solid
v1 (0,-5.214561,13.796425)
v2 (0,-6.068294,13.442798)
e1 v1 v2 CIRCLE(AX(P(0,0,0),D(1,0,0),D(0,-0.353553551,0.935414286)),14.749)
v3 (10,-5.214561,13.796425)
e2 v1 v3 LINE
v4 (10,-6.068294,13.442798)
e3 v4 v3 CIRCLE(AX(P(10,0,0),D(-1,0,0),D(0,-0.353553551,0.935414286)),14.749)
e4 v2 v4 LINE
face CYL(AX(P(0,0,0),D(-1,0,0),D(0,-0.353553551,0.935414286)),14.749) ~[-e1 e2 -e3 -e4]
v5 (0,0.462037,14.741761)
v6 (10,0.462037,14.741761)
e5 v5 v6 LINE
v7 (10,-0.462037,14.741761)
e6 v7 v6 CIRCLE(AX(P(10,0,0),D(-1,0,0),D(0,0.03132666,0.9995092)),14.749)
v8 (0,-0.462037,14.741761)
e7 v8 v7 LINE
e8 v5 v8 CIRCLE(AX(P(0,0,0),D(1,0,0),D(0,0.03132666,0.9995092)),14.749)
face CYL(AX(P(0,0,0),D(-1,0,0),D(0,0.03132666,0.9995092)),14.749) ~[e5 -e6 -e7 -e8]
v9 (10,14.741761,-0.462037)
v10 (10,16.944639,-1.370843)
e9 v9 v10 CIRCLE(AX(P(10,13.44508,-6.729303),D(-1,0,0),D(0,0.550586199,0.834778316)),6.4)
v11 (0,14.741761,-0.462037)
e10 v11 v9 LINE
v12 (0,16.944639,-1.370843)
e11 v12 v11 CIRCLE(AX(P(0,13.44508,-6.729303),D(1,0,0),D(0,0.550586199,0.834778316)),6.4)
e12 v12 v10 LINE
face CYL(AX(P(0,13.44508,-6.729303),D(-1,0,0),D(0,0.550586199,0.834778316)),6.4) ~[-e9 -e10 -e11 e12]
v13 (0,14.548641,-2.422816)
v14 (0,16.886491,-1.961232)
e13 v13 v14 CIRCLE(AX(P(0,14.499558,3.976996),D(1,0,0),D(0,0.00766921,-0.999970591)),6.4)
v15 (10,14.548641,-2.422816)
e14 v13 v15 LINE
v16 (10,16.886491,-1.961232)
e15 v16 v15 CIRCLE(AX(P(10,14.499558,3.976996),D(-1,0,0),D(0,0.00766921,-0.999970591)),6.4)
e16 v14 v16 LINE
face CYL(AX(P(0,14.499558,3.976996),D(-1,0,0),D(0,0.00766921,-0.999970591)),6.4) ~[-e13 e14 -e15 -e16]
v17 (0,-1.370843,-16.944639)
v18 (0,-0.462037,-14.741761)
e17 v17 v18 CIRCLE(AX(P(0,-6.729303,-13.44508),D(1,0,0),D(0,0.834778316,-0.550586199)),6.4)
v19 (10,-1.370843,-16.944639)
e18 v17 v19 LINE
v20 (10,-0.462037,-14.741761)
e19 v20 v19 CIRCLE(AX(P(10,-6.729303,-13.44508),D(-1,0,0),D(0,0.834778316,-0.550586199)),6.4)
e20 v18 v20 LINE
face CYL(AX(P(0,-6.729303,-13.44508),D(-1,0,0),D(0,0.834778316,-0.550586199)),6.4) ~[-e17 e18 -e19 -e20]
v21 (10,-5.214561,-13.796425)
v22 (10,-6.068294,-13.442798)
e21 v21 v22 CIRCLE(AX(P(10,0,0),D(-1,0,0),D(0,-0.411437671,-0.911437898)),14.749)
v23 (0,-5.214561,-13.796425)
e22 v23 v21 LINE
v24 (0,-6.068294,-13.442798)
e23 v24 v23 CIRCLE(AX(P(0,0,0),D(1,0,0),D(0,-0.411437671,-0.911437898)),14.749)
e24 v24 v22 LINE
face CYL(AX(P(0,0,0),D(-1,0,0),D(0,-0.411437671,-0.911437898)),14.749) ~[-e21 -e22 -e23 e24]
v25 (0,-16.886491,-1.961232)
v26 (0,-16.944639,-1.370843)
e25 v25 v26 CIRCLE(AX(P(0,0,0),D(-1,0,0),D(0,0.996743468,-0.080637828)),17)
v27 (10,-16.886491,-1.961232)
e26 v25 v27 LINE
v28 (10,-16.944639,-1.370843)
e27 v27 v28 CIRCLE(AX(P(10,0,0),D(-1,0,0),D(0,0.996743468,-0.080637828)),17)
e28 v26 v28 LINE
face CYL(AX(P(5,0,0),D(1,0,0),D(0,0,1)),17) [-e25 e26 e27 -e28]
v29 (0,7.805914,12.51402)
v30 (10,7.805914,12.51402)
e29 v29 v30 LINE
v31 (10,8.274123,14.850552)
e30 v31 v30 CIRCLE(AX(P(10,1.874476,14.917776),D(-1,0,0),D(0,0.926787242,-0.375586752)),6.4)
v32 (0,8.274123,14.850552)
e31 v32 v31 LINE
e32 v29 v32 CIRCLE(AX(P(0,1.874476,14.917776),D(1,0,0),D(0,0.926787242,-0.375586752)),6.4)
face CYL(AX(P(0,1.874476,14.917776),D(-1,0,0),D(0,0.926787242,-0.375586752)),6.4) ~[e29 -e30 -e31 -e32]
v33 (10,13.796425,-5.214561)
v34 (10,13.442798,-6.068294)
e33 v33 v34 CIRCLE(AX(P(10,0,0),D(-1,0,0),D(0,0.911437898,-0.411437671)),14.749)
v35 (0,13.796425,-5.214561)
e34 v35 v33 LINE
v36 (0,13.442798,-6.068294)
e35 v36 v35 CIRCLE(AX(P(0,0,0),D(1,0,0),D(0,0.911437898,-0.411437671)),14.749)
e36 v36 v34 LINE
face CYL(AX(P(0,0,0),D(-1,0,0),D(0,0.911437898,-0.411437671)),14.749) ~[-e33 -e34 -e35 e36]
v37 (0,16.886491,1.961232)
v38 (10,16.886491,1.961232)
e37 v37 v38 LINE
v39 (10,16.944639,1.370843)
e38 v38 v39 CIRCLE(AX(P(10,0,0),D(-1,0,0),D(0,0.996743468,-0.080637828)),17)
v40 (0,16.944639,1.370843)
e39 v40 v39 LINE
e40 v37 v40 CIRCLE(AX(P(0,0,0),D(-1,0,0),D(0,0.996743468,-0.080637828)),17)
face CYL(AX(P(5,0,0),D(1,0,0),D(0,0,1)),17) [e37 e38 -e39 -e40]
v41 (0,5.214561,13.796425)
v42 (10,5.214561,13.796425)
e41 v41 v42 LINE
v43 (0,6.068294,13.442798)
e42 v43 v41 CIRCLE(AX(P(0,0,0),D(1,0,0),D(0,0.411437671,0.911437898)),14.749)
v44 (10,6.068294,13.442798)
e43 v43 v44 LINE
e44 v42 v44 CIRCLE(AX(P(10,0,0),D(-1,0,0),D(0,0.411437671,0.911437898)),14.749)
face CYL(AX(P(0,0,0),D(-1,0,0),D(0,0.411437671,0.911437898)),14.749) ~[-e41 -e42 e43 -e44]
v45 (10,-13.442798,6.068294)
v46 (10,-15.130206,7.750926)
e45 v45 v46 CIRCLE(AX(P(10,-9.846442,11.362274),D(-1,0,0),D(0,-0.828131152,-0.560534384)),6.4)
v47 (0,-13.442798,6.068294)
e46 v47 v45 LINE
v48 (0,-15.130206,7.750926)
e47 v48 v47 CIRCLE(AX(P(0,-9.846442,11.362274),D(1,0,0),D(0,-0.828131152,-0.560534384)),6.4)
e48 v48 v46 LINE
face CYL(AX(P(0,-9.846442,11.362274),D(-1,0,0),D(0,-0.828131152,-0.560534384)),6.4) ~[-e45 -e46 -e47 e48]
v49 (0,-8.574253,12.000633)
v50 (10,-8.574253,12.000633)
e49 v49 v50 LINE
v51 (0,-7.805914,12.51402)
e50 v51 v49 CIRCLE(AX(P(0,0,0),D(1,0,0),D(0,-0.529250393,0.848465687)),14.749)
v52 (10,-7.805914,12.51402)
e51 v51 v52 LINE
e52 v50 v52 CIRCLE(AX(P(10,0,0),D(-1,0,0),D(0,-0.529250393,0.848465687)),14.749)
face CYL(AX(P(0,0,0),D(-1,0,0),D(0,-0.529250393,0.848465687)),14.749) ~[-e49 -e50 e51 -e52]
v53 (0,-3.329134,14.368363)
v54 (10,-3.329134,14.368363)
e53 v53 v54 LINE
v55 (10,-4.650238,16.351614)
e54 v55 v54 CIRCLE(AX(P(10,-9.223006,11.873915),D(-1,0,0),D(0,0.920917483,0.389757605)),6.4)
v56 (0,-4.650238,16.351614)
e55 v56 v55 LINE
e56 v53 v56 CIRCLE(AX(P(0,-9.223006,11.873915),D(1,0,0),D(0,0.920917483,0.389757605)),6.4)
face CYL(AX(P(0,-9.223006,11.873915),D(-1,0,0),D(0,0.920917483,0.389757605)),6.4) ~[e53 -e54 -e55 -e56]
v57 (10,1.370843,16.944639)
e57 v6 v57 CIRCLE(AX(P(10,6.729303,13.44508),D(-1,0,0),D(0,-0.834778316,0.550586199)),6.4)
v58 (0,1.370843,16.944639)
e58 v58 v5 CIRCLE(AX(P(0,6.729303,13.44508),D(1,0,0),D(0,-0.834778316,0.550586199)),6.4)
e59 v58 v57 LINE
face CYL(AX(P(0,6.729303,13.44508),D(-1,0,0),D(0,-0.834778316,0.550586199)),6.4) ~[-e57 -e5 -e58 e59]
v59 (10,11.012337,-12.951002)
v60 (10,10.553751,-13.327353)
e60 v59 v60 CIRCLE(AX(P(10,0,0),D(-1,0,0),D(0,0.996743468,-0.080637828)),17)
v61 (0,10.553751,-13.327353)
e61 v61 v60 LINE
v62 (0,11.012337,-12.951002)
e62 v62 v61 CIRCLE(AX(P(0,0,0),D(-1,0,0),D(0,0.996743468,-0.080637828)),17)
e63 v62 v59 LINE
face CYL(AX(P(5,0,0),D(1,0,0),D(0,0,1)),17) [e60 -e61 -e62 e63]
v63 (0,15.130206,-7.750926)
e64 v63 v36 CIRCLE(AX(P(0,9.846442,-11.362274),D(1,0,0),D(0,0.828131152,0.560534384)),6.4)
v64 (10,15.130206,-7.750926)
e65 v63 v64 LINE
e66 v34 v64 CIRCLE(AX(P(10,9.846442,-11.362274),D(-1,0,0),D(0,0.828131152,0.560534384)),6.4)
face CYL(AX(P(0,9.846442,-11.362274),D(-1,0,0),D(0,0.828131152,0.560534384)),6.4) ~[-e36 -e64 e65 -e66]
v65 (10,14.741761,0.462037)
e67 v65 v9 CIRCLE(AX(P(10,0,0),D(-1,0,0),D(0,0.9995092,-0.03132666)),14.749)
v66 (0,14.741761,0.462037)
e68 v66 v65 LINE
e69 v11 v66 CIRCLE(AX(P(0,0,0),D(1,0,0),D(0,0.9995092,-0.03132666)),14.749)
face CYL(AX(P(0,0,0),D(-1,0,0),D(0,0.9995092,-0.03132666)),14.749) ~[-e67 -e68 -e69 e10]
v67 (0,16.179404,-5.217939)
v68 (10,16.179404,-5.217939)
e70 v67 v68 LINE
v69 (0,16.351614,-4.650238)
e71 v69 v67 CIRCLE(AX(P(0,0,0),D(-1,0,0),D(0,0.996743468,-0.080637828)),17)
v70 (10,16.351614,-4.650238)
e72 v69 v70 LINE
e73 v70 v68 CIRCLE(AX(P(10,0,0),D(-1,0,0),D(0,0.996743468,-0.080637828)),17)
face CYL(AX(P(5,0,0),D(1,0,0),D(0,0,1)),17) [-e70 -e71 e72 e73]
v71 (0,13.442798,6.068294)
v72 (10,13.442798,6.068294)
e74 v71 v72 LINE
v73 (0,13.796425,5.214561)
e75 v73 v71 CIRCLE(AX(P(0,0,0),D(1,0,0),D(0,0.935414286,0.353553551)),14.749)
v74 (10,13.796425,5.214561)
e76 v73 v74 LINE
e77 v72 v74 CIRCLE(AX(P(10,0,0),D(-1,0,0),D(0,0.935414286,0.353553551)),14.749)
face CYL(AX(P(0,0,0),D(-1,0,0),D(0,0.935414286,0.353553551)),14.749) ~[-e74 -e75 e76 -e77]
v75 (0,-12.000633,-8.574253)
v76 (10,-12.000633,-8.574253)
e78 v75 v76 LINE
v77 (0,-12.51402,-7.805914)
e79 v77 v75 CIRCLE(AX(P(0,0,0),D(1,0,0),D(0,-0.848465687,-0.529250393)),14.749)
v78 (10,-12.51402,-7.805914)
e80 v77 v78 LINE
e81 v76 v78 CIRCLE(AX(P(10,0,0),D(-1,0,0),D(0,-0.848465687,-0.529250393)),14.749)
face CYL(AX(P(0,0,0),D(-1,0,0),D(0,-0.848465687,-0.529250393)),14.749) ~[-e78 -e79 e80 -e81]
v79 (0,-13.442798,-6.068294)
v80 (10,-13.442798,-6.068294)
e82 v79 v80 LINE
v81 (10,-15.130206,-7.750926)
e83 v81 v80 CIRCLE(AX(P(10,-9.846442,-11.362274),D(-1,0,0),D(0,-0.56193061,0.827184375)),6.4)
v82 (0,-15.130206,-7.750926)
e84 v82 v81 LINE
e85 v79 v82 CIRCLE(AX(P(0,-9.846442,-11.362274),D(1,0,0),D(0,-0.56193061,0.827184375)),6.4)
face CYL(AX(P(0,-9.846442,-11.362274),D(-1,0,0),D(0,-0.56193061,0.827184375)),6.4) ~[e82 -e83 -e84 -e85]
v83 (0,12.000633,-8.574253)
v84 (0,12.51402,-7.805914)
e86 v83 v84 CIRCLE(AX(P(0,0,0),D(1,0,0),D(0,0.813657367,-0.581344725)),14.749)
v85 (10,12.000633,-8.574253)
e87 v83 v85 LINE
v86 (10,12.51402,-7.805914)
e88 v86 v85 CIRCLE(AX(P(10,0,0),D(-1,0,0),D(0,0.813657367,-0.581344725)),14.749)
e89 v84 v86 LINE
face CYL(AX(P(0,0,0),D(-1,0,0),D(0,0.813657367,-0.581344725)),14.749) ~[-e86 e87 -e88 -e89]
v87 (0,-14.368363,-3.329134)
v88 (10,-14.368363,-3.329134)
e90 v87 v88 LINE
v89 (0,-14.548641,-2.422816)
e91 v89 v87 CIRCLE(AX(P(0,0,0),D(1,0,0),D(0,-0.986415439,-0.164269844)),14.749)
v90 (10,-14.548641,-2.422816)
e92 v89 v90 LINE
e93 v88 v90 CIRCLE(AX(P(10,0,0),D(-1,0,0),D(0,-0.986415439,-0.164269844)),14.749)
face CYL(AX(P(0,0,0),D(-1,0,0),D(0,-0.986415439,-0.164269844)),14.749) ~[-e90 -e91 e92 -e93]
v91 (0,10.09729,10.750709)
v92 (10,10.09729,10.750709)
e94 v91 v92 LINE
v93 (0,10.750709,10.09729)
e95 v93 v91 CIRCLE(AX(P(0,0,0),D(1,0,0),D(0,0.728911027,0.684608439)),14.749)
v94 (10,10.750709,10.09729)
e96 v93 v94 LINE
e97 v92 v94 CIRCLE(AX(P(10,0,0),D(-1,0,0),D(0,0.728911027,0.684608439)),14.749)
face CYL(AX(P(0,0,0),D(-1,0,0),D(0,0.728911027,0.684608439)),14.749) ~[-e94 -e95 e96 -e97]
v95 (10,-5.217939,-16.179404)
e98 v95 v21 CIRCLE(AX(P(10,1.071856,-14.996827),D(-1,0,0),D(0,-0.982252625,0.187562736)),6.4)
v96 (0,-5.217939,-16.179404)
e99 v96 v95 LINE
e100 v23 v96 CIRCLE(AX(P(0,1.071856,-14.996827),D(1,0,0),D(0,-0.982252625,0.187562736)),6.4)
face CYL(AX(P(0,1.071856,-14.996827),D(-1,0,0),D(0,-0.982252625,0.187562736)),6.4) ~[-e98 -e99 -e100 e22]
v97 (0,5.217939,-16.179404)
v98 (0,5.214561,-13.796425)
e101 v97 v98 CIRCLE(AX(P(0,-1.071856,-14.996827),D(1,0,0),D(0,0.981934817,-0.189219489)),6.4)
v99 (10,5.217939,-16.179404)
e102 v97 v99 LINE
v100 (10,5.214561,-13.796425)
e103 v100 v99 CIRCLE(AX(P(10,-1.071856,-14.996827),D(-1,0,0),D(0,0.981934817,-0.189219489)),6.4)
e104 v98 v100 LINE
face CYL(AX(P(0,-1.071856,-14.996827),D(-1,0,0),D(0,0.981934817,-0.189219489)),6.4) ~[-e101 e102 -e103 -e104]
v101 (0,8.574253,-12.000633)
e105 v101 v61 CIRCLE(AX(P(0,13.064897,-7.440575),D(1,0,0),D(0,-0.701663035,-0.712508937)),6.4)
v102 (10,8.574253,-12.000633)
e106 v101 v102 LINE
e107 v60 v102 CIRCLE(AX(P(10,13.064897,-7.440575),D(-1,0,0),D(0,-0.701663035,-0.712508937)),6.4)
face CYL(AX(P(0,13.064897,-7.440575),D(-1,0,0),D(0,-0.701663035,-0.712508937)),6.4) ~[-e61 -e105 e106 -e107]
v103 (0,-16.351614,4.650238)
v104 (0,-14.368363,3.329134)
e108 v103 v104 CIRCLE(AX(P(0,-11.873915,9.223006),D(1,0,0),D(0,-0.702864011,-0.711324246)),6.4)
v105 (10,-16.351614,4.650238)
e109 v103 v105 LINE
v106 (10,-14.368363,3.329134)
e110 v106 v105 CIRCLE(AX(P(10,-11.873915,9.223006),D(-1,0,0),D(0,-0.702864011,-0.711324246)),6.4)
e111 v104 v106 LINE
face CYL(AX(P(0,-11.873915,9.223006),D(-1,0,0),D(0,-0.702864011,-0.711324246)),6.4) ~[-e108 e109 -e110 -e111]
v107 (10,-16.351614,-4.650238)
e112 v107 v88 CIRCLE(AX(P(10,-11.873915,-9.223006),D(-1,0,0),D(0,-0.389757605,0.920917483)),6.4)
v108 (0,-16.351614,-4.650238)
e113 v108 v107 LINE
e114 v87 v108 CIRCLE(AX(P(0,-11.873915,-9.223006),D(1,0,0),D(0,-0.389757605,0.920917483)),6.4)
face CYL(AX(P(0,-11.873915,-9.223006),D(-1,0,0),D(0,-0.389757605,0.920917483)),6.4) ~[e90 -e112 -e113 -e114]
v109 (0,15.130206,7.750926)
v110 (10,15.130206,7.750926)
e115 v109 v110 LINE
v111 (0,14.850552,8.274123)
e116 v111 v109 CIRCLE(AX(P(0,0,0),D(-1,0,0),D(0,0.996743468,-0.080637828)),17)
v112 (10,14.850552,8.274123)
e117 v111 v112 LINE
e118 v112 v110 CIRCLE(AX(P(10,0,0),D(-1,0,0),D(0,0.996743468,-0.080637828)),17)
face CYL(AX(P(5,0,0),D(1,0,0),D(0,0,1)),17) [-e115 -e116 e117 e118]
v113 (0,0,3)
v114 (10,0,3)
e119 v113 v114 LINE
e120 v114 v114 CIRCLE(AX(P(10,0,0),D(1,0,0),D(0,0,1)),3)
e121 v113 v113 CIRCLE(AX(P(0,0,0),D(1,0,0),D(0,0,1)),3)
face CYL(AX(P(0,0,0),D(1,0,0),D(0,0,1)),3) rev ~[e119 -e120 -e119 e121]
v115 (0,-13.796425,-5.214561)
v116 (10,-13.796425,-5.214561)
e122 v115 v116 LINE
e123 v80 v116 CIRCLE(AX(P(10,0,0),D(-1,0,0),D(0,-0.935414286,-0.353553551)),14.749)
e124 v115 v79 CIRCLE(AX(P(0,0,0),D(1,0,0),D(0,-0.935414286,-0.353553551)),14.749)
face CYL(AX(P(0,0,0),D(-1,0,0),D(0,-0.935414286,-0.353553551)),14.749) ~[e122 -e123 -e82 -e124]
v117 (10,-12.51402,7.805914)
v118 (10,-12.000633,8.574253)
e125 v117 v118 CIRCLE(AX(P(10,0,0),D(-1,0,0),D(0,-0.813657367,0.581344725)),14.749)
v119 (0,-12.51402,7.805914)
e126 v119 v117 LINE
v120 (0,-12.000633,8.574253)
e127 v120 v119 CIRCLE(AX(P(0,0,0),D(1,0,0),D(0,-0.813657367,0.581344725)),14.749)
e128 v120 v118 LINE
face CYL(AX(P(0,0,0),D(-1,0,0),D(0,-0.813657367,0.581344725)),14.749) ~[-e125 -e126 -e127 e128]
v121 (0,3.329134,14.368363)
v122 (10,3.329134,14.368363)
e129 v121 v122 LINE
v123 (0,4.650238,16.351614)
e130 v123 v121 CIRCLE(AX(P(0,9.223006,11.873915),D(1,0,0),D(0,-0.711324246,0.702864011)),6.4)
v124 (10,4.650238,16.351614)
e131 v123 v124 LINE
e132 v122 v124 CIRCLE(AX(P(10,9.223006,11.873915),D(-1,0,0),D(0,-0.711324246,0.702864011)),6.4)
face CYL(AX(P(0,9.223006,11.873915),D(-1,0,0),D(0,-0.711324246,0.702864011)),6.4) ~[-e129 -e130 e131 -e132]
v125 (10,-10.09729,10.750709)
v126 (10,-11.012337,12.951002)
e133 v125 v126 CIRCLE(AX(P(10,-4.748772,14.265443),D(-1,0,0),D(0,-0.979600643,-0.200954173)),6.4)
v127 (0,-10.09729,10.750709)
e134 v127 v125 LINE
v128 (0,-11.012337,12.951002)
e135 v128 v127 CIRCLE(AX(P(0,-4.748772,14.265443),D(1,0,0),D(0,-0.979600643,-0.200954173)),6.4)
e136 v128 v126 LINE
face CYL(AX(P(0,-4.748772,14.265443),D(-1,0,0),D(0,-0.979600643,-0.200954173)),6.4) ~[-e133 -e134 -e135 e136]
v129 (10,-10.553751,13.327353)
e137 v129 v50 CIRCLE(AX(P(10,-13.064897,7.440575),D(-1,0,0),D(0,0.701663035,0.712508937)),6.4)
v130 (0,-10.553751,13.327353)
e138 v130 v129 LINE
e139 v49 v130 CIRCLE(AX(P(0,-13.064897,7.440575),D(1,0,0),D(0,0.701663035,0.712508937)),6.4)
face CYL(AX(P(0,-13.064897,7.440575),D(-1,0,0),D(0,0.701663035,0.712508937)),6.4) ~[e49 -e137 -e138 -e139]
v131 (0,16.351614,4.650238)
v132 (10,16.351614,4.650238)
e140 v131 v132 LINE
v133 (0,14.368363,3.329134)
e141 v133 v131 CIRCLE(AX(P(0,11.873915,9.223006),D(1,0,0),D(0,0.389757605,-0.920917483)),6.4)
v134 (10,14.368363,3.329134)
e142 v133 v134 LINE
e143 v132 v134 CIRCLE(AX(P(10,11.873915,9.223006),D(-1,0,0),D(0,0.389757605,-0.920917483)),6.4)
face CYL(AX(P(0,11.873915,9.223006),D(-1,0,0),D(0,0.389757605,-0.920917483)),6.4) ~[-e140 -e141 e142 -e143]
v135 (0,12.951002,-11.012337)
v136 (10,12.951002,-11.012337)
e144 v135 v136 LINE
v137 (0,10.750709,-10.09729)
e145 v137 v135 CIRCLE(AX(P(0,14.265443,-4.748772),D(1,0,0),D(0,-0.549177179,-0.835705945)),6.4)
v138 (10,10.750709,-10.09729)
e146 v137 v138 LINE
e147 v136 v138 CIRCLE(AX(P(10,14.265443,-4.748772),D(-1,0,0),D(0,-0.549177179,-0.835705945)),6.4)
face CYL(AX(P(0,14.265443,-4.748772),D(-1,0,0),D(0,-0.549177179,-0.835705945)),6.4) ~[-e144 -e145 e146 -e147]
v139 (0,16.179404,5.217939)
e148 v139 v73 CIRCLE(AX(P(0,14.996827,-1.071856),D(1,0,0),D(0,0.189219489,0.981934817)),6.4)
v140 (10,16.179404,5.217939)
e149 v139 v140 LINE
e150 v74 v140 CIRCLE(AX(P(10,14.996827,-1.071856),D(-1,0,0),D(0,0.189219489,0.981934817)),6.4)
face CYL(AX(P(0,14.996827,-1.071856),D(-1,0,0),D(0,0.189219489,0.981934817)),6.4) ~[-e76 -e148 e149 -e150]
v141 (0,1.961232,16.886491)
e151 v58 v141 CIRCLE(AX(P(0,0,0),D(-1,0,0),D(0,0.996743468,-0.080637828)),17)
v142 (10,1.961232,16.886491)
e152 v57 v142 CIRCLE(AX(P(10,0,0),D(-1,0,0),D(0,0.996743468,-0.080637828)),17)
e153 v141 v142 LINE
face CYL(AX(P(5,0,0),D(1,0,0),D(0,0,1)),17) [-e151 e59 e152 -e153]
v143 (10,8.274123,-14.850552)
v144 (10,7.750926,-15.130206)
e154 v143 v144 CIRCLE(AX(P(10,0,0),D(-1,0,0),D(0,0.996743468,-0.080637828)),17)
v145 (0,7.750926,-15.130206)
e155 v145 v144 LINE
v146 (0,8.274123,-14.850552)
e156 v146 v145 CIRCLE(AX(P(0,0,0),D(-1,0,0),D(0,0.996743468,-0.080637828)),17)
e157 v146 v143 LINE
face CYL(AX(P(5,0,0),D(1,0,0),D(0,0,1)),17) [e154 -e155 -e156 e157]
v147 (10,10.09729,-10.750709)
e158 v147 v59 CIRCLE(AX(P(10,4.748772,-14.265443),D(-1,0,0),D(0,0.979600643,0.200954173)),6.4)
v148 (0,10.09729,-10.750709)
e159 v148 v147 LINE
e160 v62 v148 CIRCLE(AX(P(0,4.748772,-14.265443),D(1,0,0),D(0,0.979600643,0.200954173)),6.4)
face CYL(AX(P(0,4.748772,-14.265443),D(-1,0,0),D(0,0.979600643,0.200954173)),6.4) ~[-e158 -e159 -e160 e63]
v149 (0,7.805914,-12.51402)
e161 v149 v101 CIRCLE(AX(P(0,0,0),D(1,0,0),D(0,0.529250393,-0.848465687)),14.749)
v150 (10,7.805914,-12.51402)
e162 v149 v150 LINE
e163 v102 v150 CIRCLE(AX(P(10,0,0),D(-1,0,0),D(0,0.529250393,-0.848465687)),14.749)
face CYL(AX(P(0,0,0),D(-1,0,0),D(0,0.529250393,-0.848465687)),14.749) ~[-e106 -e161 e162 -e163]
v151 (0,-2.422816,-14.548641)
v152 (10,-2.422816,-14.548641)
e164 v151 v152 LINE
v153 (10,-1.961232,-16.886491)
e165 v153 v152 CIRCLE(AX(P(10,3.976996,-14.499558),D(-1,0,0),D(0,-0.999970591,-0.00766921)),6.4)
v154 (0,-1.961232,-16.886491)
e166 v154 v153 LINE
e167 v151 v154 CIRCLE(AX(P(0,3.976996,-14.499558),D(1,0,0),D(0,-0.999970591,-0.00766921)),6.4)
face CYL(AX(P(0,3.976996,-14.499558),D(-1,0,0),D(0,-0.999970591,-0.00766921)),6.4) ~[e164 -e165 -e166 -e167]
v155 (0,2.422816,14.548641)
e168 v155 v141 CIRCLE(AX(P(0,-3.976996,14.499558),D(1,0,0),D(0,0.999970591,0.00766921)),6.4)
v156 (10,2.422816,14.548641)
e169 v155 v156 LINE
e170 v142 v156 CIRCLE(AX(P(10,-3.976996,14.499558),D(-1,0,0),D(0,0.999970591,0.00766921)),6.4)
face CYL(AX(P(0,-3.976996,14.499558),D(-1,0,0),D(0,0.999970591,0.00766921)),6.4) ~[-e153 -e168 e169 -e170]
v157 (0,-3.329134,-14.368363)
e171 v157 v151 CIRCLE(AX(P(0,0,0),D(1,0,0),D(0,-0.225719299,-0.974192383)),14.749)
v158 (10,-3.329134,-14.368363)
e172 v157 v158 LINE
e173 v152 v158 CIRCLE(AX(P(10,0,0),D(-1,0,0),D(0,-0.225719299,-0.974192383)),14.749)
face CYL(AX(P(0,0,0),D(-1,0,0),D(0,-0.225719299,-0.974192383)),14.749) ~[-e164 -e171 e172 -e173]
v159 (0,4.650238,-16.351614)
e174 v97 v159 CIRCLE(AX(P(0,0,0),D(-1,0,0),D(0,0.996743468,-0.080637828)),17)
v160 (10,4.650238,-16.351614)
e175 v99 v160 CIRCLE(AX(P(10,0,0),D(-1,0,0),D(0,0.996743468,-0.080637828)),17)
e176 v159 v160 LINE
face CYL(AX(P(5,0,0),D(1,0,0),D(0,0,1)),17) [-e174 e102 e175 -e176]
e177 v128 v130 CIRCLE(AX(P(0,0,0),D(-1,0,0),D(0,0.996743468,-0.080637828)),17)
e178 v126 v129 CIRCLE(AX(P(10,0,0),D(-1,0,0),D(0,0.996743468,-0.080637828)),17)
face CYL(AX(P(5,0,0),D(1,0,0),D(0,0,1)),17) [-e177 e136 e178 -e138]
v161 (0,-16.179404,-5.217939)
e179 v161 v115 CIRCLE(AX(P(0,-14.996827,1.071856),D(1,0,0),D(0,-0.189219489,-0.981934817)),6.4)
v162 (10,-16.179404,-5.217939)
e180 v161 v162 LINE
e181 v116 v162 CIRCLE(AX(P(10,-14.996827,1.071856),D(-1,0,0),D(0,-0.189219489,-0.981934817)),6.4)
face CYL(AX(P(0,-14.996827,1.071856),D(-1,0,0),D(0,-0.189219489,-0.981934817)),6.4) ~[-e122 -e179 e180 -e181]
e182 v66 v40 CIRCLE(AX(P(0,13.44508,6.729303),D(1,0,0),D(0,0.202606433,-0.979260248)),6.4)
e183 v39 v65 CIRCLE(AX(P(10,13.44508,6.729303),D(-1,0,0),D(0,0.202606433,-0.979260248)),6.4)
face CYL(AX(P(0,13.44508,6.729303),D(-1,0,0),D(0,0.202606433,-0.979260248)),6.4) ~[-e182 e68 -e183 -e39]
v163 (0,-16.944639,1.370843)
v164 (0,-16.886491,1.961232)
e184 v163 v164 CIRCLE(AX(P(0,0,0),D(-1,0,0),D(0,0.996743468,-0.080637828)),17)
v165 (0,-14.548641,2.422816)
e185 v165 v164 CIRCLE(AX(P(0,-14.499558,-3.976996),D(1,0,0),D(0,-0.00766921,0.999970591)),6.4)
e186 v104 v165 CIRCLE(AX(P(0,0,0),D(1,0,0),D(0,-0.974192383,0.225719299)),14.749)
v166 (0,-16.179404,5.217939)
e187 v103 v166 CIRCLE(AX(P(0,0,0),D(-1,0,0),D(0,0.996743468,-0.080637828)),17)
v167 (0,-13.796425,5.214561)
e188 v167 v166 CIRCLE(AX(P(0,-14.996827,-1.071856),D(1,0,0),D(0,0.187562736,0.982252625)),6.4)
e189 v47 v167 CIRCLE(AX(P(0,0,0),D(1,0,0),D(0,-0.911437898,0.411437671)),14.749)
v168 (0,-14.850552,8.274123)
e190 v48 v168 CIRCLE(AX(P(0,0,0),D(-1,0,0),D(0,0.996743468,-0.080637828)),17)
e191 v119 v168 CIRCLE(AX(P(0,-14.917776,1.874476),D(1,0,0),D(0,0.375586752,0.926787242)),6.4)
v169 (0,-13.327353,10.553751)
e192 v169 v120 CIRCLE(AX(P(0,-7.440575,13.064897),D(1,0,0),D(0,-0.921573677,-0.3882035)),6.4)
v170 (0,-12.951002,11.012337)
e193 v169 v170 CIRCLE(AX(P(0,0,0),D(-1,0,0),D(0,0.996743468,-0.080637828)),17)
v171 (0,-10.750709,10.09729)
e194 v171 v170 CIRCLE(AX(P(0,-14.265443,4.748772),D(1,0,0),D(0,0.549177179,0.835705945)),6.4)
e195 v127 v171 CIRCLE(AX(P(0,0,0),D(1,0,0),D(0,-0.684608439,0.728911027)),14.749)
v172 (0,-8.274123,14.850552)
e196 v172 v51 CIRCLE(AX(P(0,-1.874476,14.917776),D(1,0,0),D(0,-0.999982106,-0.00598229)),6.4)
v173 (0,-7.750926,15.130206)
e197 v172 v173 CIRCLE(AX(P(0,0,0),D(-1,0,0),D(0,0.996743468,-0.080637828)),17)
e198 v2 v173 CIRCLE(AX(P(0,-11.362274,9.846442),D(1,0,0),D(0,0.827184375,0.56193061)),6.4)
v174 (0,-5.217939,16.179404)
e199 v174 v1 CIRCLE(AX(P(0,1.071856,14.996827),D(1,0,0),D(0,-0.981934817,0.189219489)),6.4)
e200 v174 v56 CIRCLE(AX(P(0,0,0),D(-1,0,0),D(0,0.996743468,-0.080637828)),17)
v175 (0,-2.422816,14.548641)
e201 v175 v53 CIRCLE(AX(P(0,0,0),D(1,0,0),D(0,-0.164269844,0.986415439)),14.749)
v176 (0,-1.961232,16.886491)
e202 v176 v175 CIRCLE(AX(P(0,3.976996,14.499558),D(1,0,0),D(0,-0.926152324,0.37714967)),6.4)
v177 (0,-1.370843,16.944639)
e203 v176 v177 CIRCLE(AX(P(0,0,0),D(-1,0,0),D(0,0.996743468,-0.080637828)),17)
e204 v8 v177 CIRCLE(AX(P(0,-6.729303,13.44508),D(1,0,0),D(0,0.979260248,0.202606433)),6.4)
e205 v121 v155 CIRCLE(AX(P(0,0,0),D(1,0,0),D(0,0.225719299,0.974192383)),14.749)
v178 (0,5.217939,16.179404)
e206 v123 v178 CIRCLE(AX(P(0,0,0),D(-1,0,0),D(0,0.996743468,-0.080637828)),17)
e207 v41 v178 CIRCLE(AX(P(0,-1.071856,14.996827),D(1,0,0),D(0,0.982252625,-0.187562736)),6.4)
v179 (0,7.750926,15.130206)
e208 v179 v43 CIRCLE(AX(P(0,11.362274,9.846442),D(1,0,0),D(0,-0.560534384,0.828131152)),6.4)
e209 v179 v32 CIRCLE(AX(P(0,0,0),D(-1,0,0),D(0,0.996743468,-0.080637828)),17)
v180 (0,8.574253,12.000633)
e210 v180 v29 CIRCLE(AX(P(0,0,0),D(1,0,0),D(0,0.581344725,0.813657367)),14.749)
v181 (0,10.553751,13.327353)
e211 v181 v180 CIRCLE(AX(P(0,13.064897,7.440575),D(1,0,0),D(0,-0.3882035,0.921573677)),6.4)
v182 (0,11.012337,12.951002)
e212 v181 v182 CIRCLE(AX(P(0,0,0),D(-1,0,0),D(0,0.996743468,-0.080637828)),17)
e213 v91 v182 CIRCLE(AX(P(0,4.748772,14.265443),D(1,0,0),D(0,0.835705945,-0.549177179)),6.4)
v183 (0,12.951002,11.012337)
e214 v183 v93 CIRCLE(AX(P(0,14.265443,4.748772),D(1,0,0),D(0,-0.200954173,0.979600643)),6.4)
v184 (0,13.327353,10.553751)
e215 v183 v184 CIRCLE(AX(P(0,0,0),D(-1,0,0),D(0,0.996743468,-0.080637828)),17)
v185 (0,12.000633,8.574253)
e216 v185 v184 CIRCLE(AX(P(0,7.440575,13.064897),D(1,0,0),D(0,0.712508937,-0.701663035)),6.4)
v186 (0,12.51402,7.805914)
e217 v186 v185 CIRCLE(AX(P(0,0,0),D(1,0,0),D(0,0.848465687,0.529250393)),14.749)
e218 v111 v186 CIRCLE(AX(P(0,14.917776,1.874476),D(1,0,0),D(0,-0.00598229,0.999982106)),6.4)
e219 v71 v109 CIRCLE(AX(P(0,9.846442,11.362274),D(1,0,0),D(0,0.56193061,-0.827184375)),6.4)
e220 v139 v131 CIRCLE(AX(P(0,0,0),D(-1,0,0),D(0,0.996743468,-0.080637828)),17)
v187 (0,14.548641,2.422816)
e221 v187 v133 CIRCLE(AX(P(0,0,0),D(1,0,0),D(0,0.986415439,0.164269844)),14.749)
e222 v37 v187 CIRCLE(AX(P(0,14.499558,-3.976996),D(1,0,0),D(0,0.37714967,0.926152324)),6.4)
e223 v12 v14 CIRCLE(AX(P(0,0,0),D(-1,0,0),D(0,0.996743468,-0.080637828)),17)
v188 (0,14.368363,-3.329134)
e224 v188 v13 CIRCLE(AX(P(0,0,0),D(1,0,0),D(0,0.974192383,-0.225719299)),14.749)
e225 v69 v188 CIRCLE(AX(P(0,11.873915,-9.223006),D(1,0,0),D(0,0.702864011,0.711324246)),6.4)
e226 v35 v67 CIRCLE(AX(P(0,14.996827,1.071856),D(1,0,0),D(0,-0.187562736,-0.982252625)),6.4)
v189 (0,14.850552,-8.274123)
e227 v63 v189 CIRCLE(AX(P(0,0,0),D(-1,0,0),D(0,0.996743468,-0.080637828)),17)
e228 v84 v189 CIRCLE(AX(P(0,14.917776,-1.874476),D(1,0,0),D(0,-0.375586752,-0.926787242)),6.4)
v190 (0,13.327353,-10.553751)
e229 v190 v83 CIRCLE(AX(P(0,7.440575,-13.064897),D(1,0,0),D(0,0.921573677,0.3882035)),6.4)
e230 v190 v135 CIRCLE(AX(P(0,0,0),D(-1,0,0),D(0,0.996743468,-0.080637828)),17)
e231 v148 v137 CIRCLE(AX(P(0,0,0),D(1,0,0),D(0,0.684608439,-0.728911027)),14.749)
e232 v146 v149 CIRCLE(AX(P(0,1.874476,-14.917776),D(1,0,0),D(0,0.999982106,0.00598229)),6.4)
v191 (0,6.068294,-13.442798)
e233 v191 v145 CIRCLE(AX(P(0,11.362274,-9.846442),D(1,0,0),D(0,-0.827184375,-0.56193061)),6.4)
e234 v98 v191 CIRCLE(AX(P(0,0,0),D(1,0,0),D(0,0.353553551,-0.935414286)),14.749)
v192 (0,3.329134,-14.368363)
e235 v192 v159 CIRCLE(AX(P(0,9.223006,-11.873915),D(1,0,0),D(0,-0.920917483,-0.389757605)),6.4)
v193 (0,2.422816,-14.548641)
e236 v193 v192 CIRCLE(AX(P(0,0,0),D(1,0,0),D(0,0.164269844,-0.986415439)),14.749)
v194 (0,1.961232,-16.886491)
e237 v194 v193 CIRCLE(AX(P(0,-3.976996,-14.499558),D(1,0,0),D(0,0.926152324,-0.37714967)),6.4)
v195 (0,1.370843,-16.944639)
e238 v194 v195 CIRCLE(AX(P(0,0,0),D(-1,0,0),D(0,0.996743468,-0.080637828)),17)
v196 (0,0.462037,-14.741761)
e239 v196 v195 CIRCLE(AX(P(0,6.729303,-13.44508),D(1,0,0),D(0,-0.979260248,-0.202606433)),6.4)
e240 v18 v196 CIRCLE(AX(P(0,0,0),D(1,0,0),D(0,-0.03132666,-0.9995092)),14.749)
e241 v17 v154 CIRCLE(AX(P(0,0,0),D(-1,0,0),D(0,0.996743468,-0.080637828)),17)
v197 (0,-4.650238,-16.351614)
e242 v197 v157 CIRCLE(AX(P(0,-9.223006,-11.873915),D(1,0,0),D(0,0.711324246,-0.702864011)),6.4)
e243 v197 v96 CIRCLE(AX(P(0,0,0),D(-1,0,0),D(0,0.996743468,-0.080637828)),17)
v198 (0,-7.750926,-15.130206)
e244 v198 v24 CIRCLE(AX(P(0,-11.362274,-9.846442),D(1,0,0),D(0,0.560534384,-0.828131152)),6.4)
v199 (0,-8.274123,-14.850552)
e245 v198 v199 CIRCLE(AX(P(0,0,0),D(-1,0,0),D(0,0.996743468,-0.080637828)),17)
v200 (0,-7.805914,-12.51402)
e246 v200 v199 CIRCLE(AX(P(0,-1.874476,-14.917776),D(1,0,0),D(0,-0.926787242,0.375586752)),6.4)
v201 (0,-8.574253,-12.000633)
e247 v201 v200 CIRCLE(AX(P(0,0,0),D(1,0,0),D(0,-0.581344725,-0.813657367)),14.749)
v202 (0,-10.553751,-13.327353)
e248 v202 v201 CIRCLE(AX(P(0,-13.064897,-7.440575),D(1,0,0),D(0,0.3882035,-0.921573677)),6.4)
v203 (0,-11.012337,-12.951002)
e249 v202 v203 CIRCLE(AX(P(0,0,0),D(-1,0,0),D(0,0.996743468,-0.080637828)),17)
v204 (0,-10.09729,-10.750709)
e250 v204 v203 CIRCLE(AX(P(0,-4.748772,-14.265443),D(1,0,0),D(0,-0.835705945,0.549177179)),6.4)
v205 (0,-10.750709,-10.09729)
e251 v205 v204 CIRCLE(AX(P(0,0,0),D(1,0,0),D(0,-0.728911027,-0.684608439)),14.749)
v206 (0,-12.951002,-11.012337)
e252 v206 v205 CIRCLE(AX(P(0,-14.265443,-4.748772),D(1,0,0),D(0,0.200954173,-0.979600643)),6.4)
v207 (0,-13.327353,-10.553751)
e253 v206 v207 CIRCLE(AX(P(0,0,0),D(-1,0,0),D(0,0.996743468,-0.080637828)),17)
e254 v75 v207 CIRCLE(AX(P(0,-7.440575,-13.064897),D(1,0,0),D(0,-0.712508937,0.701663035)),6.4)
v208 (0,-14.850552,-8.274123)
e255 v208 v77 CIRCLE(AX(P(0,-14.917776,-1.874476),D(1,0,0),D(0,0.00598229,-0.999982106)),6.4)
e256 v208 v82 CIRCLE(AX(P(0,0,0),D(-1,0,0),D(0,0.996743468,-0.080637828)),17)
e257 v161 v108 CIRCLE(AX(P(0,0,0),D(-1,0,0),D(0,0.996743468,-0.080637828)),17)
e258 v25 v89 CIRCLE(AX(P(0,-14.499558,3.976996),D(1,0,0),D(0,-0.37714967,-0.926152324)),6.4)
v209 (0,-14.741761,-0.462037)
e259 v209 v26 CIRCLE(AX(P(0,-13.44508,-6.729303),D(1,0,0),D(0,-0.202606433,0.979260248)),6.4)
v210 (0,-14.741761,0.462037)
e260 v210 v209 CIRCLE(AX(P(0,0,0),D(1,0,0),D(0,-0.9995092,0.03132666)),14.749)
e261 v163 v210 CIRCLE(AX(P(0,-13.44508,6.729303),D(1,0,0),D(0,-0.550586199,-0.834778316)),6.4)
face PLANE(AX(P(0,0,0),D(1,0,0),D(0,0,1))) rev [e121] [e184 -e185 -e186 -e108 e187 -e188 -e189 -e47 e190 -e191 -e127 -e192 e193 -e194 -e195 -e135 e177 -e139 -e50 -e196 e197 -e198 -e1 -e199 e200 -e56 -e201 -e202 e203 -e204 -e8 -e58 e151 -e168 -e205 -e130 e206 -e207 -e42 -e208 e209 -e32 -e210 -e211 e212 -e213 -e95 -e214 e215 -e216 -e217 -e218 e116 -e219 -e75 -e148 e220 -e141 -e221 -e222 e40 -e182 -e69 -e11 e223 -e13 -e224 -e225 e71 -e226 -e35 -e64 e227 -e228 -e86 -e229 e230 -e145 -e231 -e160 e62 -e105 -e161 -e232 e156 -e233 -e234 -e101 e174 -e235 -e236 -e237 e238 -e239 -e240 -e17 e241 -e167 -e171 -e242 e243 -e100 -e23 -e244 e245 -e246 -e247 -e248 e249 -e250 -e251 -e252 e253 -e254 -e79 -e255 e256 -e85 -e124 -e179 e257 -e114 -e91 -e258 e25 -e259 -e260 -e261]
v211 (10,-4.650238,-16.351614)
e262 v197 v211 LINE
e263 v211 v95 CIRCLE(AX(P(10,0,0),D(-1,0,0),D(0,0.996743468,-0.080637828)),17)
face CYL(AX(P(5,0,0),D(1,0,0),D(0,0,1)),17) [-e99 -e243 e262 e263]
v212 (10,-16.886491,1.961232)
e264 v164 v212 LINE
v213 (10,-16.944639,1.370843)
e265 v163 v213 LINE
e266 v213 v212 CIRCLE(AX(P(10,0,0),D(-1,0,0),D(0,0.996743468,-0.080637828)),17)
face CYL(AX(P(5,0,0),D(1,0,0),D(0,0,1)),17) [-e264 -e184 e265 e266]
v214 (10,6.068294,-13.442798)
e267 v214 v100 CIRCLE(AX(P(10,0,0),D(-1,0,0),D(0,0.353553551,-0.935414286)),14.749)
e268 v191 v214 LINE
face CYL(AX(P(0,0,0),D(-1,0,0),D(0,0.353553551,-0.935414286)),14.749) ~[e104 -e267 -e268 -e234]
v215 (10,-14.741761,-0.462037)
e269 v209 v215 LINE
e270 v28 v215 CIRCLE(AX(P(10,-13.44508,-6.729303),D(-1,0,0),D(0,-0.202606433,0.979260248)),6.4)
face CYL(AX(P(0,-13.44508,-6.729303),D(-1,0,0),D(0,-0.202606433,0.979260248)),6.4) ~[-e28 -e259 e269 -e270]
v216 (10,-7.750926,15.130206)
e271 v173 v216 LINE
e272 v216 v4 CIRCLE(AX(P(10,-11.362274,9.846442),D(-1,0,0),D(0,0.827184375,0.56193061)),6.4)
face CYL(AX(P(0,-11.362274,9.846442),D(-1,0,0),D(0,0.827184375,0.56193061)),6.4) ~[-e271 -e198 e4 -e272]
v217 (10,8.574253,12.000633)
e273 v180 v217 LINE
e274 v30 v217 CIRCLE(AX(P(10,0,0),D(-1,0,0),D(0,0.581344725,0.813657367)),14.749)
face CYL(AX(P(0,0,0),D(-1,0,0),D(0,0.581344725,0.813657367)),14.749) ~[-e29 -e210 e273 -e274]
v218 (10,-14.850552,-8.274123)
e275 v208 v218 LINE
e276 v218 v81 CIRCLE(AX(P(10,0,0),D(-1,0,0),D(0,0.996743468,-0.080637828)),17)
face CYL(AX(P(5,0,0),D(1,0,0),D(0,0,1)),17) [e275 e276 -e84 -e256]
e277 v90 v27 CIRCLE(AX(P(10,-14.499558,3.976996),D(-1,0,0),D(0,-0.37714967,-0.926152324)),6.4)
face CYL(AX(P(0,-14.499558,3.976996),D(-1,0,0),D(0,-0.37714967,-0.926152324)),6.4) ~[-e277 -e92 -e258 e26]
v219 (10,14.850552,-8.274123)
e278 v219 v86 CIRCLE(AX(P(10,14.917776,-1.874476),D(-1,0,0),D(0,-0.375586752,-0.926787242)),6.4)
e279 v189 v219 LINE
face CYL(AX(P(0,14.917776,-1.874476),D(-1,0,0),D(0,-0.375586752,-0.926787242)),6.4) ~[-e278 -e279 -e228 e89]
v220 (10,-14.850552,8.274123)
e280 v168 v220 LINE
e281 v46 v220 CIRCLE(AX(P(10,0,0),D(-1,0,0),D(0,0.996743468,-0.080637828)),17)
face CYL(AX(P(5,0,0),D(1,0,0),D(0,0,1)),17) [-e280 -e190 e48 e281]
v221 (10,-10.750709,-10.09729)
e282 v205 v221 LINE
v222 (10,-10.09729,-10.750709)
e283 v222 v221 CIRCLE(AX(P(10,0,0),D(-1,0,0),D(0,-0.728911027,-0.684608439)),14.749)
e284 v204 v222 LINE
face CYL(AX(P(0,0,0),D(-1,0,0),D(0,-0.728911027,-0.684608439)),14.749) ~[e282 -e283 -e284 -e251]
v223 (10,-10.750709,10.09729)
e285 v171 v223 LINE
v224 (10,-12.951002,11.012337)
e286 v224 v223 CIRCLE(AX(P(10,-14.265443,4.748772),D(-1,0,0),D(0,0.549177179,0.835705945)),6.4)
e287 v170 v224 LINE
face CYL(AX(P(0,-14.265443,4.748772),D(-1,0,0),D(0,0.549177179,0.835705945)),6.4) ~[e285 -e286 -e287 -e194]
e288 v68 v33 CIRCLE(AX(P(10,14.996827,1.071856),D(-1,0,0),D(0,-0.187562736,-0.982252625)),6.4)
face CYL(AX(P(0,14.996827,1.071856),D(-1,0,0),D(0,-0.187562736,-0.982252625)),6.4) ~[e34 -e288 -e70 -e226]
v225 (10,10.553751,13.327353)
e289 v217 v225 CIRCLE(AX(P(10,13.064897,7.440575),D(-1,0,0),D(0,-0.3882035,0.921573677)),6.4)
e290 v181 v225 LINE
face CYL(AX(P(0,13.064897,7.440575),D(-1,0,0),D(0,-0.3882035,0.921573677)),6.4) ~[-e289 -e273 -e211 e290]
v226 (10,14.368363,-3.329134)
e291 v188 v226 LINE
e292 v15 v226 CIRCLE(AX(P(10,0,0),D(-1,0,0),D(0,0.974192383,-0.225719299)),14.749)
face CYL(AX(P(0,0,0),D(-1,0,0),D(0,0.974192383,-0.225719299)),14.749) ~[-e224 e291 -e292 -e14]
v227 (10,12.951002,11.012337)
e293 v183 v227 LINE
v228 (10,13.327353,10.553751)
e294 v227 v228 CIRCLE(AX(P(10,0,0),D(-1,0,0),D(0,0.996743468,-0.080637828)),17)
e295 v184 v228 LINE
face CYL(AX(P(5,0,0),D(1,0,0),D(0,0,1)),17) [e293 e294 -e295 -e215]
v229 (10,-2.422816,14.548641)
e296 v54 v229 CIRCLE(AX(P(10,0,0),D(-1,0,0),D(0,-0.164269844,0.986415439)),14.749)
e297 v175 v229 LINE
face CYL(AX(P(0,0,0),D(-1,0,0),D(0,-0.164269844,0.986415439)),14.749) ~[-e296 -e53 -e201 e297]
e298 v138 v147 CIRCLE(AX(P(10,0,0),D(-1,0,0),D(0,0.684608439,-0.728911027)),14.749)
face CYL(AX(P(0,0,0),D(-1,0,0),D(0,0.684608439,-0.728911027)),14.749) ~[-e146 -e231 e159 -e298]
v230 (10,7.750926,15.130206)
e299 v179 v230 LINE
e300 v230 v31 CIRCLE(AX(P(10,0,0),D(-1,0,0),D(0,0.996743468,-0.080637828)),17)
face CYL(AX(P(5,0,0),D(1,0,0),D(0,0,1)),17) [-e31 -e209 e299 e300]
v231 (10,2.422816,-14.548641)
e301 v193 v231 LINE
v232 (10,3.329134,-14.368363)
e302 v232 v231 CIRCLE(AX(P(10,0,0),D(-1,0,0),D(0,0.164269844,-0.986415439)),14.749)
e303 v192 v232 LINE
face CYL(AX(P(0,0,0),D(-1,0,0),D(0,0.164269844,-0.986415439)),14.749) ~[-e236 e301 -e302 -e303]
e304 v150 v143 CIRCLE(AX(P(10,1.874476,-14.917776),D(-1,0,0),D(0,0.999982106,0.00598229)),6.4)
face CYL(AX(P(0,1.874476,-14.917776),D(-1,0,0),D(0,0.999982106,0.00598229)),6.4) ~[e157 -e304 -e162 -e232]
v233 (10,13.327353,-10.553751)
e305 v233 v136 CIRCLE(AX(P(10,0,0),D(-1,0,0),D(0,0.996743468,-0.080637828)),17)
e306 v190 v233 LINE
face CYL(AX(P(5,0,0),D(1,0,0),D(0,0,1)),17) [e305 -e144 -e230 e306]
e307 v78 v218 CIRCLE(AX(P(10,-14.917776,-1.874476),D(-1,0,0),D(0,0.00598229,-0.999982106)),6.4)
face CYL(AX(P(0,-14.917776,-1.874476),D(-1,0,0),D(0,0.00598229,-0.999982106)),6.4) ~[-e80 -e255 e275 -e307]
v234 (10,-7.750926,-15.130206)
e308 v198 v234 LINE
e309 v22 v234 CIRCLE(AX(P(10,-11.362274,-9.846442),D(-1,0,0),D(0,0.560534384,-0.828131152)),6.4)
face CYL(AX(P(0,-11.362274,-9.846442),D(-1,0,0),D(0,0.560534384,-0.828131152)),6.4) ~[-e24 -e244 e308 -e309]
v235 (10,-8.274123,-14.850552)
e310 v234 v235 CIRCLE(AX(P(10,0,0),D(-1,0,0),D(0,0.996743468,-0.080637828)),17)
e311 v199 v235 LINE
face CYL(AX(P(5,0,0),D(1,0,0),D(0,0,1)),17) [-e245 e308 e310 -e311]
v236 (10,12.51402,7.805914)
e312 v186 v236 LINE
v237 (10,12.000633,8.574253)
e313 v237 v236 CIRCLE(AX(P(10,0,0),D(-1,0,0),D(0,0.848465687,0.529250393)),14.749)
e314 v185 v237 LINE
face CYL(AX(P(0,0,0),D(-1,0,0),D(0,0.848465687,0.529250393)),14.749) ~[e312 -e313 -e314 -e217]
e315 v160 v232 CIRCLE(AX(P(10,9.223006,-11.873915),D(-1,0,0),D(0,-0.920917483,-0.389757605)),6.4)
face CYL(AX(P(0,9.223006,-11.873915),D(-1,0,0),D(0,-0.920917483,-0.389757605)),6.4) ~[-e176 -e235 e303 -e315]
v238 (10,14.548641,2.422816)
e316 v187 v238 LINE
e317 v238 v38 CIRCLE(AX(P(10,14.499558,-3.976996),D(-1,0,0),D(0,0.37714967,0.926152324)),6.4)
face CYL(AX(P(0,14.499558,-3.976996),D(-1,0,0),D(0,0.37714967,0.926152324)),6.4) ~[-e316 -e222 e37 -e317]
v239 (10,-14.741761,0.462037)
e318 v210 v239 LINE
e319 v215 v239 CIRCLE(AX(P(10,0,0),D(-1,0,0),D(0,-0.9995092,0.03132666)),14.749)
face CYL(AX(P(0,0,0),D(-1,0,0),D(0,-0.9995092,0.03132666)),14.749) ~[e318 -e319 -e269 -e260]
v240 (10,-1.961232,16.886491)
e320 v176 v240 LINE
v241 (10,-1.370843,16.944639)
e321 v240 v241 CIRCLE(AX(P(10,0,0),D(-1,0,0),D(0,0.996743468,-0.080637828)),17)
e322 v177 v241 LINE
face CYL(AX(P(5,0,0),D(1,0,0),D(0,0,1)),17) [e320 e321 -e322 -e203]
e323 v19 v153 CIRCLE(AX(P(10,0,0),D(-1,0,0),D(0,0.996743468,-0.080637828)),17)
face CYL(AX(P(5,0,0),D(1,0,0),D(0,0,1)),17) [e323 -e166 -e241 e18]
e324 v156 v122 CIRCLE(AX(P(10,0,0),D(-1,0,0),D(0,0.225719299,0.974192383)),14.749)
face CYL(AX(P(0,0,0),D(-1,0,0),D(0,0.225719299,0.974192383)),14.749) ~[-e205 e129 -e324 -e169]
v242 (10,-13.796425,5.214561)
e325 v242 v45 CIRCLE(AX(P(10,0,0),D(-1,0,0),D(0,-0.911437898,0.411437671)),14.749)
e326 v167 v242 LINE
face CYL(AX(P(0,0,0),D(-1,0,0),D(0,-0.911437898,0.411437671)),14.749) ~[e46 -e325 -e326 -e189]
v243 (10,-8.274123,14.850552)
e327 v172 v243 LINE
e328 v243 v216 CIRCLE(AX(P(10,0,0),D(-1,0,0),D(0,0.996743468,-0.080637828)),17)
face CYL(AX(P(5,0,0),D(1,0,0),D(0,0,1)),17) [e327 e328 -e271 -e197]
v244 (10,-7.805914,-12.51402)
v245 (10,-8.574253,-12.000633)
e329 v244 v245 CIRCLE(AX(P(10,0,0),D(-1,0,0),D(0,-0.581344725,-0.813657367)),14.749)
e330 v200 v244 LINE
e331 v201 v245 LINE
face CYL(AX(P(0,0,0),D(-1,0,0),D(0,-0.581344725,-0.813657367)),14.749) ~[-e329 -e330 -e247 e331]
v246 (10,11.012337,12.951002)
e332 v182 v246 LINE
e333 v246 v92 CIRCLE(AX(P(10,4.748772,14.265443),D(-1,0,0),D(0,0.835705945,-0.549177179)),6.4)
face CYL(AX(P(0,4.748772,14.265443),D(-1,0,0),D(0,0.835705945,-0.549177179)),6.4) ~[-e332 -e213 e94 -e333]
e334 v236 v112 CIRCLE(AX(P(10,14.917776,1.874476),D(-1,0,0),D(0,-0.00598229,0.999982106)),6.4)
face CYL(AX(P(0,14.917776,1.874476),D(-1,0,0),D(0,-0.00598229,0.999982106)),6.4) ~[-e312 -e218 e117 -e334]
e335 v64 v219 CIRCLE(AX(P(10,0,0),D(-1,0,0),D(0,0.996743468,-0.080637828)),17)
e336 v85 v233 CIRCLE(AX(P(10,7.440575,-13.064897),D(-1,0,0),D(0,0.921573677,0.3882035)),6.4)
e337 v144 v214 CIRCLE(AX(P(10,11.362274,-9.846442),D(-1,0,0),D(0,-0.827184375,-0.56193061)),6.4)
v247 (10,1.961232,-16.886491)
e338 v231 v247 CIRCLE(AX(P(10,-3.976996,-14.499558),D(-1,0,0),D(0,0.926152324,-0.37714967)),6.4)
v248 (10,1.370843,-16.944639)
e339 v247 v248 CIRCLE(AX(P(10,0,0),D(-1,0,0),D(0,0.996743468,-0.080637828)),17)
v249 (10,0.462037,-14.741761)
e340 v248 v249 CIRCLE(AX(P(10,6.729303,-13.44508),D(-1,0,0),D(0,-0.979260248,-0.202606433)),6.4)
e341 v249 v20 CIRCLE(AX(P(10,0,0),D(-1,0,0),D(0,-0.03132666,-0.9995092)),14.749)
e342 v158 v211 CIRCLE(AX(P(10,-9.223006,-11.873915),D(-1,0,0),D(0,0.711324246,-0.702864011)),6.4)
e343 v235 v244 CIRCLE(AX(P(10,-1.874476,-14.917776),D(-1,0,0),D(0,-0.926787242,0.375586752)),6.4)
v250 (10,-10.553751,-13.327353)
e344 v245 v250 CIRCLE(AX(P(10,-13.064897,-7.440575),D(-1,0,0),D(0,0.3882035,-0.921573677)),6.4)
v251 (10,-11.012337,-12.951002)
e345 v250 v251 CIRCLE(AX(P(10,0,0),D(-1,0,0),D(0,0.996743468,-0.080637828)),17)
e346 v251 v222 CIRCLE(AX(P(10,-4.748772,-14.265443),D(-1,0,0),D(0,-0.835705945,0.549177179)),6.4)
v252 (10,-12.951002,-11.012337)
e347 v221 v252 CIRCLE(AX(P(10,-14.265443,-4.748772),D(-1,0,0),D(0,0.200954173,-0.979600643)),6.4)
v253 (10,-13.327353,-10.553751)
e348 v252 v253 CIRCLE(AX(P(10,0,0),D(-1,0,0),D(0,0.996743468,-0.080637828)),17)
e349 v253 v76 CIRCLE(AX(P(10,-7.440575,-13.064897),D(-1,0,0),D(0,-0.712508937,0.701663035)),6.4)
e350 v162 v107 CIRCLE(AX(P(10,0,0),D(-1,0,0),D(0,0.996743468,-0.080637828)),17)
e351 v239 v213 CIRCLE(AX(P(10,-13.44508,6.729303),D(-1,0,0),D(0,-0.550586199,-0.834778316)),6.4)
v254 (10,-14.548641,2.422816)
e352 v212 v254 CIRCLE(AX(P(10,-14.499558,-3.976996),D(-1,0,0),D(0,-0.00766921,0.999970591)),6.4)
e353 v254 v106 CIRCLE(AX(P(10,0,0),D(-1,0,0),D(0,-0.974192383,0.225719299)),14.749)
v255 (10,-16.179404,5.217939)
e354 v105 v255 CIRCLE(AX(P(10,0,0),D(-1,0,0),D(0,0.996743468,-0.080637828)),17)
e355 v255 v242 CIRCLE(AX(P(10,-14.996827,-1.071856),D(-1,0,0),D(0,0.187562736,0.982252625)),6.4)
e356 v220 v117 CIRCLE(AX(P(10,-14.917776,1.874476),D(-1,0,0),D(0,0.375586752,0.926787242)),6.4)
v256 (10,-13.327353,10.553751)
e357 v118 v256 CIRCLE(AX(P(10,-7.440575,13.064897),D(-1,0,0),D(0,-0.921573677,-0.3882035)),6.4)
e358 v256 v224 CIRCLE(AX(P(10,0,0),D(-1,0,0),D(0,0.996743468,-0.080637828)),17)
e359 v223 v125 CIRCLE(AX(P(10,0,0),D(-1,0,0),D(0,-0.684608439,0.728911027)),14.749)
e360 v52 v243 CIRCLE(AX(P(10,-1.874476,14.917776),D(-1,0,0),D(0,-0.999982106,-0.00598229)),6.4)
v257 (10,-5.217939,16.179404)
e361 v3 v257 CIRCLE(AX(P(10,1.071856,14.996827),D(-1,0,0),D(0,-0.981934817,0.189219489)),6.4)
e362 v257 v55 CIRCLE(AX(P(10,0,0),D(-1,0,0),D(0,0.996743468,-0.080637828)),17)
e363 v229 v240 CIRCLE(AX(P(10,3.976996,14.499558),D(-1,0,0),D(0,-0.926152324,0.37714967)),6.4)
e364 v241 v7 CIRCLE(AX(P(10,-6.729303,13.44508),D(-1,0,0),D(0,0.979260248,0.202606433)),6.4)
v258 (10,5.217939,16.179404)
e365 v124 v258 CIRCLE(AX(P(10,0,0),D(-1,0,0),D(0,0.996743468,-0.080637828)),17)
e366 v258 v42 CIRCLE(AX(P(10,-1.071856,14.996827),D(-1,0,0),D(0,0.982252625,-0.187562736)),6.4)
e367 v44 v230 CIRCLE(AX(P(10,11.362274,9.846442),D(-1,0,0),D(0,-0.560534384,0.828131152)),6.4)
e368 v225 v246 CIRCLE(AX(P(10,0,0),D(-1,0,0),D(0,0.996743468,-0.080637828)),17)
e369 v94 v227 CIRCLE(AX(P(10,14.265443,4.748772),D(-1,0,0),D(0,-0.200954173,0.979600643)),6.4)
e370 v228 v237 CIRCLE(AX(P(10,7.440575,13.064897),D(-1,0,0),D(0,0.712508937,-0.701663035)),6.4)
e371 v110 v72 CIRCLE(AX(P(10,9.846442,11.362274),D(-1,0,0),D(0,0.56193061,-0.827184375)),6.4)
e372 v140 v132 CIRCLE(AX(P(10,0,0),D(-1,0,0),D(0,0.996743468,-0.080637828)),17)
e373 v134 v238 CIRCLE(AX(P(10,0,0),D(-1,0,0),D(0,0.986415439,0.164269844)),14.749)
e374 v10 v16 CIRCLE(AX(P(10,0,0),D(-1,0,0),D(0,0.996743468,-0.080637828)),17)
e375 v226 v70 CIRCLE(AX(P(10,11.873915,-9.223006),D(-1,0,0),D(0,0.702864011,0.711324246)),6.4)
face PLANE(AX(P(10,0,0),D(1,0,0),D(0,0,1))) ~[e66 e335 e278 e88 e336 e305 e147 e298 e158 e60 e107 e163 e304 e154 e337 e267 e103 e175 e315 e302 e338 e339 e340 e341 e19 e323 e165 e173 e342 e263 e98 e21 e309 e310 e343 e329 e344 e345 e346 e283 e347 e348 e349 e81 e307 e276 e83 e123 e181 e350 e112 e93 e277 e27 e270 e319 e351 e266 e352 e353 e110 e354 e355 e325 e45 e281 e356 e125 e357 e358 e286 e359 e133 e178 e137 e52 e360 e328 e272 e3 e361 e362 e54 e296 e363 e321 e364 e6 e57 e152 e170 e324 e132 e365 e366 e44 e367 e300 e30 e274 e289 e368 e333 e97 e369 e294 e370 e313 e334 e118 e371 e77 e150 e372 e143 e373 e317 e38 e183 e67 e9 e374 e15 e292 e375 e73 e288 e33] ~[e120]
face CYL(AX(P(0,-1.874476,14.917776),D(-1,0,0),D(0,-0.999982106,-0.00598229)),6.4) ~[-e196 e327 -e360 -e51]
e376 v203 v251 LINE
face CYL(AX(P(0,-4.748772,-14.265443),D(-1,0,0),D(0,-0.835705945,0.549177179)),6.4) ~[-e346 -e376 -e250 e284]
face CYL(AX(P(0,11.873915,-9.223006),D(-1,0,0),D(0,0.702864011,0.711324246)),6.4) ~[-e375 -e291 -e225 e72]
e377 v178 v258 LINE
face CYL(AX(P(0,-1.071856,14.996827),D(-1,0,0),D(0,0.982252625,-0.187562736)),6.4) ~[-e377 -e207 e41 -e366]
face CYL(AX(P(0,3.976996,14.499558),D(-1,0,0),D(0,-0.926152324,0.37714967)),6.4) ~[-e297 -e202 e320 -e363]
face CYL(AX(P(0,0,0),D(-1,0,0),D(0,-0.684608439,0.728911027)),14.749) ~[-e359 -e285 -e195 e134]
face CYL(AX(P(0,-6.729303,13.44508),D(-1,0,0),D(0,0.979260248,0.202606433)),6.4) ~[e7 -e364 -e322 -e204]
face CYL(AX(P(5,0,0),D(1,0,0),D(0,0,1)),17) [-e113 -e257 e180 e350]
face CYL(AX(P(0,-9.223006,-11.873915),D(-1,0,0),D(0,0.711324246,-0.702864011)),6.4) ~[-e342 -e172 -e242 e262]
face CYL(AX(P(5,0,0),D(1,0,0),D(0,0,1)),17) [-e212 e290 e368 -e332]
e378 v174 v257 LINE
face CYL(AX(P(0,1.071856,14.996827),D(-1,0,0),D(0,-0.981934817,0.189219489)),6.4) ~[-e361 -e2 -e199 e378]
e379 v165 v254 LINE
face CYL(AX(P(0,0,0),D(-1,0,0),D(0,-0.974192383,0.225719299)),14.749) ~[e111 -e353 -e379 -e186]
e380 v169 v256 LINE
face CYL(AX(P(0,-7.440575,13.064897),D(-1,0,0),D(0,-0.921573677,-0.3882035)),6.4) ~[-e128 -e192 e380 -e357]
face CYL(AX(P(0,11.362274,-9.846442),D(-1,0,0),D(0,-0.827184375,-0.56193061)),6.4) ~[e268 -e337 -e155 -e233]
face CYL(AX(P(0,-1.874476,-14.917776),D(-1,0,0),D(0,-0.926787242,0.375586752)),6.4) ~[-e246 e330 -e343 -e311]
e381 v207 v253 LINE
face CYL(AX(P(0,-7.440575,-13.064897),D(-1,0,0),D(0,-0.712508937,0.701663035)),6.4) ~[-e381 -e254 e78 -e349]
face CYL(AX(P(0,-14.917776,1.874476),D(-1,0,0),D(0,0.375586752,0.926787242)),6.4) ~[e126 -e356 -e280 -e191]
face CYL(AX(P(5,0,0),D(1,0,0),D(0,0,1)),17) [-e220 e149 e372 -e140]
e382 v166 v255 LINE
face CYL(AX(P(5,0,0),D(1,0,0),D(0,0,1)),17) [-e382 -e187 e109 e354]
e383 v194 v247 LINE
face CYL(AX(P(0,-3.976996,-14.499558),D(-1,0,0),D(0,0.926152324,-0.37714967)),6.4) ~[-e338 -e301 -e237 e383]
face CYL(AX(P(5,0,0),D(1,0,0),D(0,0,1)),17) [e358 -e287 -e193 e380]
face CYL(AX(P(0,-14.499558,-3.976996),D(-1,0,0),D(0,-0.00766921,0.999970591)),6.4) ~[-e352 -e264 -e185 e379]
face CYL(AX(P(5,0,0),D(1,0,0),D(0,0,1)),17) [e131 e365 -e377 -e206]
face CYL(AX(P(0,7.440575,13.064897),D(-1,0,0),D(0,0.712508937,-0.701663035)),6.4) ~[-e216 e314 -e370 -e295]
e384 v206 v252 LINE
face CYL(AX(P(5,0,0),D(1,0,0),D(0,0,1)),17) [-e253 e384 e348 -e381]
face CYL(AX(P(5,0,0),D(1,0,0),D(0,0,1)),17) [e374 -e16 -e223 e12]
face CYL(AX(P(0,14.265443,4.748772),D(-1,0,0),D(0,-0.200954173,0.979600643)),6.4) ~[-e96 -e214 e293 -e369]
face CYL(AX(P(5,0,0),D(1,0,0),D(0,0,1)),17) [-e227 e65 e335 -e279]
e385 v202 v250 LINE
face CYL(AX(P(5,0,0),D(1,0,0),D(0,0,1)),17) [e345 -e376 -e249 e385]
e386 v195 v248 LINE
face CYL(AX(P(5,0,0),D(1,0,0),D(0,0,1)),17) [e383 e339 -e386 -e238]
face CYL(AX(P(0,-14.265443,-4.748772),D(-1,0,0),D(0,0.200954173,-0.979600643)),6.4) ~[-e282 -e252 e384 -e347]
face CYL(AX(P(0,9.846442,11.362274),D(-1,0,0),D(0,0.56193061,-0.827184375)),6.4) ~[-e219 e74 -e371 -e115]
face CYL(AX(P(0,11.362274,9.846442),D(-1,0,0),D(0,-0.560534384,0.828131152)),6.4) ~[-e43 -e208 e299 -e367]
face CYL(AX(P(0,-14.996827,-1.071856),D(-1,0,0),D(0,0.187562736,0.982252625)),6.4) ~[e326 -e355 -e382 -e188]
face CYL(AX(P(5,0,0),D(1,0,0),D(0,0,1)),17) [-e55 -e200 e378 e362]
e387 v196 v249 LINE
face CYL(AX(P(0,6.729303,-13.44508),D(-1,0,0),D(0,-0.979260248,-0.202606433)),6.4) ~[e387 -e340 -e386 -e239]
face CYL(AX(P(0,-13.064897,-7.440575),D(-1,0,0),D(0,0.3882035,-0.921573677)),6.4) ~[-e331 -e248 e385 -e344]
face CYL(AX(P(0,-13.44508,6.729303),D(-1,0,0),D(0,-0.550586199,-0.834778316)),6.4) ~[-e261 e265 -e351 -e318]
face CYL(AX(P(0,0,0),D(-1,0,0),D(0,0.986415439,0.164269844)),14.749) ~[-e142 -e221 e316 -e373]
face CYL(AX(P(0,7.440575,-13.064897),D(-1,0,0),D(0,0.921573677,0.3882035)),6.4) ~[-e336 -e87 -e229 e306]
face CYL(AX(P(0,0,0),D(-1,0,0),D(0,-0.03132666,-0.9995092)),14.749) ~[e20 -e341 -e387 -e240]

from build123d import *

# Parameters (mm, degrees)
BASPROSKE_W     = 10
BASPROSKE_H     = 17
TOOTHCUT_DEPTH  = 27.038433133
TEETHCUTS_COUNT = 32
TEETHCUTS_ANGLE = 348.75
BORSKE_R        = 3
BORE_DEPTH      = 50.0000508


with BuildPart() as part:
    # BasProSke → Base-Revolve (revolve)
    with BuildSketch(Plane(origin=(0, 0, 0), x_dir=(1, 0, 0), z_dir=(0, 1, 0)), mode=Mode.PRIVATE) as base_revolve_sk:
        with Locations((5, 8.5)):
            Rectangle(BASPROSKE_W, BASPROSKE_H)
    revolve(base_revolve_sk.sketch.rotate(Axis((-10, 0, 0), (1, 0, 0)), 180), axis=Axis((-10, 0, 0), (1, 0, 0)))

    # TooCutSke → ToothCut (cut, through all)
    with BuildSketch(Plane(origin=(0, 0, 0), x_dir=(0, 0, -1), z_dir=(1, 0, 0))):
        with BuildLine():
            ThreePointArc((0.462036907, 14.741761187), (0, 14.749), (-0.462036907, 14.741761187))
            ThreePointArc((-0.462036907, 14.741761187), (-0.81854142, 15.899240468), (-1.386721275, 16.9688317))
            ThreePointArc((-1.386721275, 16.9688317), (0, 17.0254), (1.386721275, 16.9688317))
            ThreePointArc((1.386721275, 16.9688317), (0.81854142, 15.899240468), (0.462036907, 14.741761187))
        make_face()
    toothcut = extrude(amount=TOOTHCUT_DEPTH, mode=Mode.SUBTRACT)

    # TeethCuts: ToothCut ×32 about axis
    teethcuts_axis = Axis((-10, 0, 0), (1, 0, 0))
    for i in range(1, TEETHCUTS_COUNT):
        add(toothcut.rotate(teethcuts_axis, i * TEETHCUTS_ANGLE / (TEETHCUTS_COUNT - 1)), mode=Mode.SUBTRACT)

    # BorSke → Bore (cut, symmetric)
    with BuildSketch(Plane(origin=(0, 0, 0), x_dir=(0, 0, -1), z_dir=(1, 0, 0))):
        with Locations(Location((0, 0, 0), (0, 0, 180))):
            Circle(BORSKE_R)
    extrude(amount=BORE_DEPTH, both=True, mode=Mode.SUBTRACT)


solid = part.part
